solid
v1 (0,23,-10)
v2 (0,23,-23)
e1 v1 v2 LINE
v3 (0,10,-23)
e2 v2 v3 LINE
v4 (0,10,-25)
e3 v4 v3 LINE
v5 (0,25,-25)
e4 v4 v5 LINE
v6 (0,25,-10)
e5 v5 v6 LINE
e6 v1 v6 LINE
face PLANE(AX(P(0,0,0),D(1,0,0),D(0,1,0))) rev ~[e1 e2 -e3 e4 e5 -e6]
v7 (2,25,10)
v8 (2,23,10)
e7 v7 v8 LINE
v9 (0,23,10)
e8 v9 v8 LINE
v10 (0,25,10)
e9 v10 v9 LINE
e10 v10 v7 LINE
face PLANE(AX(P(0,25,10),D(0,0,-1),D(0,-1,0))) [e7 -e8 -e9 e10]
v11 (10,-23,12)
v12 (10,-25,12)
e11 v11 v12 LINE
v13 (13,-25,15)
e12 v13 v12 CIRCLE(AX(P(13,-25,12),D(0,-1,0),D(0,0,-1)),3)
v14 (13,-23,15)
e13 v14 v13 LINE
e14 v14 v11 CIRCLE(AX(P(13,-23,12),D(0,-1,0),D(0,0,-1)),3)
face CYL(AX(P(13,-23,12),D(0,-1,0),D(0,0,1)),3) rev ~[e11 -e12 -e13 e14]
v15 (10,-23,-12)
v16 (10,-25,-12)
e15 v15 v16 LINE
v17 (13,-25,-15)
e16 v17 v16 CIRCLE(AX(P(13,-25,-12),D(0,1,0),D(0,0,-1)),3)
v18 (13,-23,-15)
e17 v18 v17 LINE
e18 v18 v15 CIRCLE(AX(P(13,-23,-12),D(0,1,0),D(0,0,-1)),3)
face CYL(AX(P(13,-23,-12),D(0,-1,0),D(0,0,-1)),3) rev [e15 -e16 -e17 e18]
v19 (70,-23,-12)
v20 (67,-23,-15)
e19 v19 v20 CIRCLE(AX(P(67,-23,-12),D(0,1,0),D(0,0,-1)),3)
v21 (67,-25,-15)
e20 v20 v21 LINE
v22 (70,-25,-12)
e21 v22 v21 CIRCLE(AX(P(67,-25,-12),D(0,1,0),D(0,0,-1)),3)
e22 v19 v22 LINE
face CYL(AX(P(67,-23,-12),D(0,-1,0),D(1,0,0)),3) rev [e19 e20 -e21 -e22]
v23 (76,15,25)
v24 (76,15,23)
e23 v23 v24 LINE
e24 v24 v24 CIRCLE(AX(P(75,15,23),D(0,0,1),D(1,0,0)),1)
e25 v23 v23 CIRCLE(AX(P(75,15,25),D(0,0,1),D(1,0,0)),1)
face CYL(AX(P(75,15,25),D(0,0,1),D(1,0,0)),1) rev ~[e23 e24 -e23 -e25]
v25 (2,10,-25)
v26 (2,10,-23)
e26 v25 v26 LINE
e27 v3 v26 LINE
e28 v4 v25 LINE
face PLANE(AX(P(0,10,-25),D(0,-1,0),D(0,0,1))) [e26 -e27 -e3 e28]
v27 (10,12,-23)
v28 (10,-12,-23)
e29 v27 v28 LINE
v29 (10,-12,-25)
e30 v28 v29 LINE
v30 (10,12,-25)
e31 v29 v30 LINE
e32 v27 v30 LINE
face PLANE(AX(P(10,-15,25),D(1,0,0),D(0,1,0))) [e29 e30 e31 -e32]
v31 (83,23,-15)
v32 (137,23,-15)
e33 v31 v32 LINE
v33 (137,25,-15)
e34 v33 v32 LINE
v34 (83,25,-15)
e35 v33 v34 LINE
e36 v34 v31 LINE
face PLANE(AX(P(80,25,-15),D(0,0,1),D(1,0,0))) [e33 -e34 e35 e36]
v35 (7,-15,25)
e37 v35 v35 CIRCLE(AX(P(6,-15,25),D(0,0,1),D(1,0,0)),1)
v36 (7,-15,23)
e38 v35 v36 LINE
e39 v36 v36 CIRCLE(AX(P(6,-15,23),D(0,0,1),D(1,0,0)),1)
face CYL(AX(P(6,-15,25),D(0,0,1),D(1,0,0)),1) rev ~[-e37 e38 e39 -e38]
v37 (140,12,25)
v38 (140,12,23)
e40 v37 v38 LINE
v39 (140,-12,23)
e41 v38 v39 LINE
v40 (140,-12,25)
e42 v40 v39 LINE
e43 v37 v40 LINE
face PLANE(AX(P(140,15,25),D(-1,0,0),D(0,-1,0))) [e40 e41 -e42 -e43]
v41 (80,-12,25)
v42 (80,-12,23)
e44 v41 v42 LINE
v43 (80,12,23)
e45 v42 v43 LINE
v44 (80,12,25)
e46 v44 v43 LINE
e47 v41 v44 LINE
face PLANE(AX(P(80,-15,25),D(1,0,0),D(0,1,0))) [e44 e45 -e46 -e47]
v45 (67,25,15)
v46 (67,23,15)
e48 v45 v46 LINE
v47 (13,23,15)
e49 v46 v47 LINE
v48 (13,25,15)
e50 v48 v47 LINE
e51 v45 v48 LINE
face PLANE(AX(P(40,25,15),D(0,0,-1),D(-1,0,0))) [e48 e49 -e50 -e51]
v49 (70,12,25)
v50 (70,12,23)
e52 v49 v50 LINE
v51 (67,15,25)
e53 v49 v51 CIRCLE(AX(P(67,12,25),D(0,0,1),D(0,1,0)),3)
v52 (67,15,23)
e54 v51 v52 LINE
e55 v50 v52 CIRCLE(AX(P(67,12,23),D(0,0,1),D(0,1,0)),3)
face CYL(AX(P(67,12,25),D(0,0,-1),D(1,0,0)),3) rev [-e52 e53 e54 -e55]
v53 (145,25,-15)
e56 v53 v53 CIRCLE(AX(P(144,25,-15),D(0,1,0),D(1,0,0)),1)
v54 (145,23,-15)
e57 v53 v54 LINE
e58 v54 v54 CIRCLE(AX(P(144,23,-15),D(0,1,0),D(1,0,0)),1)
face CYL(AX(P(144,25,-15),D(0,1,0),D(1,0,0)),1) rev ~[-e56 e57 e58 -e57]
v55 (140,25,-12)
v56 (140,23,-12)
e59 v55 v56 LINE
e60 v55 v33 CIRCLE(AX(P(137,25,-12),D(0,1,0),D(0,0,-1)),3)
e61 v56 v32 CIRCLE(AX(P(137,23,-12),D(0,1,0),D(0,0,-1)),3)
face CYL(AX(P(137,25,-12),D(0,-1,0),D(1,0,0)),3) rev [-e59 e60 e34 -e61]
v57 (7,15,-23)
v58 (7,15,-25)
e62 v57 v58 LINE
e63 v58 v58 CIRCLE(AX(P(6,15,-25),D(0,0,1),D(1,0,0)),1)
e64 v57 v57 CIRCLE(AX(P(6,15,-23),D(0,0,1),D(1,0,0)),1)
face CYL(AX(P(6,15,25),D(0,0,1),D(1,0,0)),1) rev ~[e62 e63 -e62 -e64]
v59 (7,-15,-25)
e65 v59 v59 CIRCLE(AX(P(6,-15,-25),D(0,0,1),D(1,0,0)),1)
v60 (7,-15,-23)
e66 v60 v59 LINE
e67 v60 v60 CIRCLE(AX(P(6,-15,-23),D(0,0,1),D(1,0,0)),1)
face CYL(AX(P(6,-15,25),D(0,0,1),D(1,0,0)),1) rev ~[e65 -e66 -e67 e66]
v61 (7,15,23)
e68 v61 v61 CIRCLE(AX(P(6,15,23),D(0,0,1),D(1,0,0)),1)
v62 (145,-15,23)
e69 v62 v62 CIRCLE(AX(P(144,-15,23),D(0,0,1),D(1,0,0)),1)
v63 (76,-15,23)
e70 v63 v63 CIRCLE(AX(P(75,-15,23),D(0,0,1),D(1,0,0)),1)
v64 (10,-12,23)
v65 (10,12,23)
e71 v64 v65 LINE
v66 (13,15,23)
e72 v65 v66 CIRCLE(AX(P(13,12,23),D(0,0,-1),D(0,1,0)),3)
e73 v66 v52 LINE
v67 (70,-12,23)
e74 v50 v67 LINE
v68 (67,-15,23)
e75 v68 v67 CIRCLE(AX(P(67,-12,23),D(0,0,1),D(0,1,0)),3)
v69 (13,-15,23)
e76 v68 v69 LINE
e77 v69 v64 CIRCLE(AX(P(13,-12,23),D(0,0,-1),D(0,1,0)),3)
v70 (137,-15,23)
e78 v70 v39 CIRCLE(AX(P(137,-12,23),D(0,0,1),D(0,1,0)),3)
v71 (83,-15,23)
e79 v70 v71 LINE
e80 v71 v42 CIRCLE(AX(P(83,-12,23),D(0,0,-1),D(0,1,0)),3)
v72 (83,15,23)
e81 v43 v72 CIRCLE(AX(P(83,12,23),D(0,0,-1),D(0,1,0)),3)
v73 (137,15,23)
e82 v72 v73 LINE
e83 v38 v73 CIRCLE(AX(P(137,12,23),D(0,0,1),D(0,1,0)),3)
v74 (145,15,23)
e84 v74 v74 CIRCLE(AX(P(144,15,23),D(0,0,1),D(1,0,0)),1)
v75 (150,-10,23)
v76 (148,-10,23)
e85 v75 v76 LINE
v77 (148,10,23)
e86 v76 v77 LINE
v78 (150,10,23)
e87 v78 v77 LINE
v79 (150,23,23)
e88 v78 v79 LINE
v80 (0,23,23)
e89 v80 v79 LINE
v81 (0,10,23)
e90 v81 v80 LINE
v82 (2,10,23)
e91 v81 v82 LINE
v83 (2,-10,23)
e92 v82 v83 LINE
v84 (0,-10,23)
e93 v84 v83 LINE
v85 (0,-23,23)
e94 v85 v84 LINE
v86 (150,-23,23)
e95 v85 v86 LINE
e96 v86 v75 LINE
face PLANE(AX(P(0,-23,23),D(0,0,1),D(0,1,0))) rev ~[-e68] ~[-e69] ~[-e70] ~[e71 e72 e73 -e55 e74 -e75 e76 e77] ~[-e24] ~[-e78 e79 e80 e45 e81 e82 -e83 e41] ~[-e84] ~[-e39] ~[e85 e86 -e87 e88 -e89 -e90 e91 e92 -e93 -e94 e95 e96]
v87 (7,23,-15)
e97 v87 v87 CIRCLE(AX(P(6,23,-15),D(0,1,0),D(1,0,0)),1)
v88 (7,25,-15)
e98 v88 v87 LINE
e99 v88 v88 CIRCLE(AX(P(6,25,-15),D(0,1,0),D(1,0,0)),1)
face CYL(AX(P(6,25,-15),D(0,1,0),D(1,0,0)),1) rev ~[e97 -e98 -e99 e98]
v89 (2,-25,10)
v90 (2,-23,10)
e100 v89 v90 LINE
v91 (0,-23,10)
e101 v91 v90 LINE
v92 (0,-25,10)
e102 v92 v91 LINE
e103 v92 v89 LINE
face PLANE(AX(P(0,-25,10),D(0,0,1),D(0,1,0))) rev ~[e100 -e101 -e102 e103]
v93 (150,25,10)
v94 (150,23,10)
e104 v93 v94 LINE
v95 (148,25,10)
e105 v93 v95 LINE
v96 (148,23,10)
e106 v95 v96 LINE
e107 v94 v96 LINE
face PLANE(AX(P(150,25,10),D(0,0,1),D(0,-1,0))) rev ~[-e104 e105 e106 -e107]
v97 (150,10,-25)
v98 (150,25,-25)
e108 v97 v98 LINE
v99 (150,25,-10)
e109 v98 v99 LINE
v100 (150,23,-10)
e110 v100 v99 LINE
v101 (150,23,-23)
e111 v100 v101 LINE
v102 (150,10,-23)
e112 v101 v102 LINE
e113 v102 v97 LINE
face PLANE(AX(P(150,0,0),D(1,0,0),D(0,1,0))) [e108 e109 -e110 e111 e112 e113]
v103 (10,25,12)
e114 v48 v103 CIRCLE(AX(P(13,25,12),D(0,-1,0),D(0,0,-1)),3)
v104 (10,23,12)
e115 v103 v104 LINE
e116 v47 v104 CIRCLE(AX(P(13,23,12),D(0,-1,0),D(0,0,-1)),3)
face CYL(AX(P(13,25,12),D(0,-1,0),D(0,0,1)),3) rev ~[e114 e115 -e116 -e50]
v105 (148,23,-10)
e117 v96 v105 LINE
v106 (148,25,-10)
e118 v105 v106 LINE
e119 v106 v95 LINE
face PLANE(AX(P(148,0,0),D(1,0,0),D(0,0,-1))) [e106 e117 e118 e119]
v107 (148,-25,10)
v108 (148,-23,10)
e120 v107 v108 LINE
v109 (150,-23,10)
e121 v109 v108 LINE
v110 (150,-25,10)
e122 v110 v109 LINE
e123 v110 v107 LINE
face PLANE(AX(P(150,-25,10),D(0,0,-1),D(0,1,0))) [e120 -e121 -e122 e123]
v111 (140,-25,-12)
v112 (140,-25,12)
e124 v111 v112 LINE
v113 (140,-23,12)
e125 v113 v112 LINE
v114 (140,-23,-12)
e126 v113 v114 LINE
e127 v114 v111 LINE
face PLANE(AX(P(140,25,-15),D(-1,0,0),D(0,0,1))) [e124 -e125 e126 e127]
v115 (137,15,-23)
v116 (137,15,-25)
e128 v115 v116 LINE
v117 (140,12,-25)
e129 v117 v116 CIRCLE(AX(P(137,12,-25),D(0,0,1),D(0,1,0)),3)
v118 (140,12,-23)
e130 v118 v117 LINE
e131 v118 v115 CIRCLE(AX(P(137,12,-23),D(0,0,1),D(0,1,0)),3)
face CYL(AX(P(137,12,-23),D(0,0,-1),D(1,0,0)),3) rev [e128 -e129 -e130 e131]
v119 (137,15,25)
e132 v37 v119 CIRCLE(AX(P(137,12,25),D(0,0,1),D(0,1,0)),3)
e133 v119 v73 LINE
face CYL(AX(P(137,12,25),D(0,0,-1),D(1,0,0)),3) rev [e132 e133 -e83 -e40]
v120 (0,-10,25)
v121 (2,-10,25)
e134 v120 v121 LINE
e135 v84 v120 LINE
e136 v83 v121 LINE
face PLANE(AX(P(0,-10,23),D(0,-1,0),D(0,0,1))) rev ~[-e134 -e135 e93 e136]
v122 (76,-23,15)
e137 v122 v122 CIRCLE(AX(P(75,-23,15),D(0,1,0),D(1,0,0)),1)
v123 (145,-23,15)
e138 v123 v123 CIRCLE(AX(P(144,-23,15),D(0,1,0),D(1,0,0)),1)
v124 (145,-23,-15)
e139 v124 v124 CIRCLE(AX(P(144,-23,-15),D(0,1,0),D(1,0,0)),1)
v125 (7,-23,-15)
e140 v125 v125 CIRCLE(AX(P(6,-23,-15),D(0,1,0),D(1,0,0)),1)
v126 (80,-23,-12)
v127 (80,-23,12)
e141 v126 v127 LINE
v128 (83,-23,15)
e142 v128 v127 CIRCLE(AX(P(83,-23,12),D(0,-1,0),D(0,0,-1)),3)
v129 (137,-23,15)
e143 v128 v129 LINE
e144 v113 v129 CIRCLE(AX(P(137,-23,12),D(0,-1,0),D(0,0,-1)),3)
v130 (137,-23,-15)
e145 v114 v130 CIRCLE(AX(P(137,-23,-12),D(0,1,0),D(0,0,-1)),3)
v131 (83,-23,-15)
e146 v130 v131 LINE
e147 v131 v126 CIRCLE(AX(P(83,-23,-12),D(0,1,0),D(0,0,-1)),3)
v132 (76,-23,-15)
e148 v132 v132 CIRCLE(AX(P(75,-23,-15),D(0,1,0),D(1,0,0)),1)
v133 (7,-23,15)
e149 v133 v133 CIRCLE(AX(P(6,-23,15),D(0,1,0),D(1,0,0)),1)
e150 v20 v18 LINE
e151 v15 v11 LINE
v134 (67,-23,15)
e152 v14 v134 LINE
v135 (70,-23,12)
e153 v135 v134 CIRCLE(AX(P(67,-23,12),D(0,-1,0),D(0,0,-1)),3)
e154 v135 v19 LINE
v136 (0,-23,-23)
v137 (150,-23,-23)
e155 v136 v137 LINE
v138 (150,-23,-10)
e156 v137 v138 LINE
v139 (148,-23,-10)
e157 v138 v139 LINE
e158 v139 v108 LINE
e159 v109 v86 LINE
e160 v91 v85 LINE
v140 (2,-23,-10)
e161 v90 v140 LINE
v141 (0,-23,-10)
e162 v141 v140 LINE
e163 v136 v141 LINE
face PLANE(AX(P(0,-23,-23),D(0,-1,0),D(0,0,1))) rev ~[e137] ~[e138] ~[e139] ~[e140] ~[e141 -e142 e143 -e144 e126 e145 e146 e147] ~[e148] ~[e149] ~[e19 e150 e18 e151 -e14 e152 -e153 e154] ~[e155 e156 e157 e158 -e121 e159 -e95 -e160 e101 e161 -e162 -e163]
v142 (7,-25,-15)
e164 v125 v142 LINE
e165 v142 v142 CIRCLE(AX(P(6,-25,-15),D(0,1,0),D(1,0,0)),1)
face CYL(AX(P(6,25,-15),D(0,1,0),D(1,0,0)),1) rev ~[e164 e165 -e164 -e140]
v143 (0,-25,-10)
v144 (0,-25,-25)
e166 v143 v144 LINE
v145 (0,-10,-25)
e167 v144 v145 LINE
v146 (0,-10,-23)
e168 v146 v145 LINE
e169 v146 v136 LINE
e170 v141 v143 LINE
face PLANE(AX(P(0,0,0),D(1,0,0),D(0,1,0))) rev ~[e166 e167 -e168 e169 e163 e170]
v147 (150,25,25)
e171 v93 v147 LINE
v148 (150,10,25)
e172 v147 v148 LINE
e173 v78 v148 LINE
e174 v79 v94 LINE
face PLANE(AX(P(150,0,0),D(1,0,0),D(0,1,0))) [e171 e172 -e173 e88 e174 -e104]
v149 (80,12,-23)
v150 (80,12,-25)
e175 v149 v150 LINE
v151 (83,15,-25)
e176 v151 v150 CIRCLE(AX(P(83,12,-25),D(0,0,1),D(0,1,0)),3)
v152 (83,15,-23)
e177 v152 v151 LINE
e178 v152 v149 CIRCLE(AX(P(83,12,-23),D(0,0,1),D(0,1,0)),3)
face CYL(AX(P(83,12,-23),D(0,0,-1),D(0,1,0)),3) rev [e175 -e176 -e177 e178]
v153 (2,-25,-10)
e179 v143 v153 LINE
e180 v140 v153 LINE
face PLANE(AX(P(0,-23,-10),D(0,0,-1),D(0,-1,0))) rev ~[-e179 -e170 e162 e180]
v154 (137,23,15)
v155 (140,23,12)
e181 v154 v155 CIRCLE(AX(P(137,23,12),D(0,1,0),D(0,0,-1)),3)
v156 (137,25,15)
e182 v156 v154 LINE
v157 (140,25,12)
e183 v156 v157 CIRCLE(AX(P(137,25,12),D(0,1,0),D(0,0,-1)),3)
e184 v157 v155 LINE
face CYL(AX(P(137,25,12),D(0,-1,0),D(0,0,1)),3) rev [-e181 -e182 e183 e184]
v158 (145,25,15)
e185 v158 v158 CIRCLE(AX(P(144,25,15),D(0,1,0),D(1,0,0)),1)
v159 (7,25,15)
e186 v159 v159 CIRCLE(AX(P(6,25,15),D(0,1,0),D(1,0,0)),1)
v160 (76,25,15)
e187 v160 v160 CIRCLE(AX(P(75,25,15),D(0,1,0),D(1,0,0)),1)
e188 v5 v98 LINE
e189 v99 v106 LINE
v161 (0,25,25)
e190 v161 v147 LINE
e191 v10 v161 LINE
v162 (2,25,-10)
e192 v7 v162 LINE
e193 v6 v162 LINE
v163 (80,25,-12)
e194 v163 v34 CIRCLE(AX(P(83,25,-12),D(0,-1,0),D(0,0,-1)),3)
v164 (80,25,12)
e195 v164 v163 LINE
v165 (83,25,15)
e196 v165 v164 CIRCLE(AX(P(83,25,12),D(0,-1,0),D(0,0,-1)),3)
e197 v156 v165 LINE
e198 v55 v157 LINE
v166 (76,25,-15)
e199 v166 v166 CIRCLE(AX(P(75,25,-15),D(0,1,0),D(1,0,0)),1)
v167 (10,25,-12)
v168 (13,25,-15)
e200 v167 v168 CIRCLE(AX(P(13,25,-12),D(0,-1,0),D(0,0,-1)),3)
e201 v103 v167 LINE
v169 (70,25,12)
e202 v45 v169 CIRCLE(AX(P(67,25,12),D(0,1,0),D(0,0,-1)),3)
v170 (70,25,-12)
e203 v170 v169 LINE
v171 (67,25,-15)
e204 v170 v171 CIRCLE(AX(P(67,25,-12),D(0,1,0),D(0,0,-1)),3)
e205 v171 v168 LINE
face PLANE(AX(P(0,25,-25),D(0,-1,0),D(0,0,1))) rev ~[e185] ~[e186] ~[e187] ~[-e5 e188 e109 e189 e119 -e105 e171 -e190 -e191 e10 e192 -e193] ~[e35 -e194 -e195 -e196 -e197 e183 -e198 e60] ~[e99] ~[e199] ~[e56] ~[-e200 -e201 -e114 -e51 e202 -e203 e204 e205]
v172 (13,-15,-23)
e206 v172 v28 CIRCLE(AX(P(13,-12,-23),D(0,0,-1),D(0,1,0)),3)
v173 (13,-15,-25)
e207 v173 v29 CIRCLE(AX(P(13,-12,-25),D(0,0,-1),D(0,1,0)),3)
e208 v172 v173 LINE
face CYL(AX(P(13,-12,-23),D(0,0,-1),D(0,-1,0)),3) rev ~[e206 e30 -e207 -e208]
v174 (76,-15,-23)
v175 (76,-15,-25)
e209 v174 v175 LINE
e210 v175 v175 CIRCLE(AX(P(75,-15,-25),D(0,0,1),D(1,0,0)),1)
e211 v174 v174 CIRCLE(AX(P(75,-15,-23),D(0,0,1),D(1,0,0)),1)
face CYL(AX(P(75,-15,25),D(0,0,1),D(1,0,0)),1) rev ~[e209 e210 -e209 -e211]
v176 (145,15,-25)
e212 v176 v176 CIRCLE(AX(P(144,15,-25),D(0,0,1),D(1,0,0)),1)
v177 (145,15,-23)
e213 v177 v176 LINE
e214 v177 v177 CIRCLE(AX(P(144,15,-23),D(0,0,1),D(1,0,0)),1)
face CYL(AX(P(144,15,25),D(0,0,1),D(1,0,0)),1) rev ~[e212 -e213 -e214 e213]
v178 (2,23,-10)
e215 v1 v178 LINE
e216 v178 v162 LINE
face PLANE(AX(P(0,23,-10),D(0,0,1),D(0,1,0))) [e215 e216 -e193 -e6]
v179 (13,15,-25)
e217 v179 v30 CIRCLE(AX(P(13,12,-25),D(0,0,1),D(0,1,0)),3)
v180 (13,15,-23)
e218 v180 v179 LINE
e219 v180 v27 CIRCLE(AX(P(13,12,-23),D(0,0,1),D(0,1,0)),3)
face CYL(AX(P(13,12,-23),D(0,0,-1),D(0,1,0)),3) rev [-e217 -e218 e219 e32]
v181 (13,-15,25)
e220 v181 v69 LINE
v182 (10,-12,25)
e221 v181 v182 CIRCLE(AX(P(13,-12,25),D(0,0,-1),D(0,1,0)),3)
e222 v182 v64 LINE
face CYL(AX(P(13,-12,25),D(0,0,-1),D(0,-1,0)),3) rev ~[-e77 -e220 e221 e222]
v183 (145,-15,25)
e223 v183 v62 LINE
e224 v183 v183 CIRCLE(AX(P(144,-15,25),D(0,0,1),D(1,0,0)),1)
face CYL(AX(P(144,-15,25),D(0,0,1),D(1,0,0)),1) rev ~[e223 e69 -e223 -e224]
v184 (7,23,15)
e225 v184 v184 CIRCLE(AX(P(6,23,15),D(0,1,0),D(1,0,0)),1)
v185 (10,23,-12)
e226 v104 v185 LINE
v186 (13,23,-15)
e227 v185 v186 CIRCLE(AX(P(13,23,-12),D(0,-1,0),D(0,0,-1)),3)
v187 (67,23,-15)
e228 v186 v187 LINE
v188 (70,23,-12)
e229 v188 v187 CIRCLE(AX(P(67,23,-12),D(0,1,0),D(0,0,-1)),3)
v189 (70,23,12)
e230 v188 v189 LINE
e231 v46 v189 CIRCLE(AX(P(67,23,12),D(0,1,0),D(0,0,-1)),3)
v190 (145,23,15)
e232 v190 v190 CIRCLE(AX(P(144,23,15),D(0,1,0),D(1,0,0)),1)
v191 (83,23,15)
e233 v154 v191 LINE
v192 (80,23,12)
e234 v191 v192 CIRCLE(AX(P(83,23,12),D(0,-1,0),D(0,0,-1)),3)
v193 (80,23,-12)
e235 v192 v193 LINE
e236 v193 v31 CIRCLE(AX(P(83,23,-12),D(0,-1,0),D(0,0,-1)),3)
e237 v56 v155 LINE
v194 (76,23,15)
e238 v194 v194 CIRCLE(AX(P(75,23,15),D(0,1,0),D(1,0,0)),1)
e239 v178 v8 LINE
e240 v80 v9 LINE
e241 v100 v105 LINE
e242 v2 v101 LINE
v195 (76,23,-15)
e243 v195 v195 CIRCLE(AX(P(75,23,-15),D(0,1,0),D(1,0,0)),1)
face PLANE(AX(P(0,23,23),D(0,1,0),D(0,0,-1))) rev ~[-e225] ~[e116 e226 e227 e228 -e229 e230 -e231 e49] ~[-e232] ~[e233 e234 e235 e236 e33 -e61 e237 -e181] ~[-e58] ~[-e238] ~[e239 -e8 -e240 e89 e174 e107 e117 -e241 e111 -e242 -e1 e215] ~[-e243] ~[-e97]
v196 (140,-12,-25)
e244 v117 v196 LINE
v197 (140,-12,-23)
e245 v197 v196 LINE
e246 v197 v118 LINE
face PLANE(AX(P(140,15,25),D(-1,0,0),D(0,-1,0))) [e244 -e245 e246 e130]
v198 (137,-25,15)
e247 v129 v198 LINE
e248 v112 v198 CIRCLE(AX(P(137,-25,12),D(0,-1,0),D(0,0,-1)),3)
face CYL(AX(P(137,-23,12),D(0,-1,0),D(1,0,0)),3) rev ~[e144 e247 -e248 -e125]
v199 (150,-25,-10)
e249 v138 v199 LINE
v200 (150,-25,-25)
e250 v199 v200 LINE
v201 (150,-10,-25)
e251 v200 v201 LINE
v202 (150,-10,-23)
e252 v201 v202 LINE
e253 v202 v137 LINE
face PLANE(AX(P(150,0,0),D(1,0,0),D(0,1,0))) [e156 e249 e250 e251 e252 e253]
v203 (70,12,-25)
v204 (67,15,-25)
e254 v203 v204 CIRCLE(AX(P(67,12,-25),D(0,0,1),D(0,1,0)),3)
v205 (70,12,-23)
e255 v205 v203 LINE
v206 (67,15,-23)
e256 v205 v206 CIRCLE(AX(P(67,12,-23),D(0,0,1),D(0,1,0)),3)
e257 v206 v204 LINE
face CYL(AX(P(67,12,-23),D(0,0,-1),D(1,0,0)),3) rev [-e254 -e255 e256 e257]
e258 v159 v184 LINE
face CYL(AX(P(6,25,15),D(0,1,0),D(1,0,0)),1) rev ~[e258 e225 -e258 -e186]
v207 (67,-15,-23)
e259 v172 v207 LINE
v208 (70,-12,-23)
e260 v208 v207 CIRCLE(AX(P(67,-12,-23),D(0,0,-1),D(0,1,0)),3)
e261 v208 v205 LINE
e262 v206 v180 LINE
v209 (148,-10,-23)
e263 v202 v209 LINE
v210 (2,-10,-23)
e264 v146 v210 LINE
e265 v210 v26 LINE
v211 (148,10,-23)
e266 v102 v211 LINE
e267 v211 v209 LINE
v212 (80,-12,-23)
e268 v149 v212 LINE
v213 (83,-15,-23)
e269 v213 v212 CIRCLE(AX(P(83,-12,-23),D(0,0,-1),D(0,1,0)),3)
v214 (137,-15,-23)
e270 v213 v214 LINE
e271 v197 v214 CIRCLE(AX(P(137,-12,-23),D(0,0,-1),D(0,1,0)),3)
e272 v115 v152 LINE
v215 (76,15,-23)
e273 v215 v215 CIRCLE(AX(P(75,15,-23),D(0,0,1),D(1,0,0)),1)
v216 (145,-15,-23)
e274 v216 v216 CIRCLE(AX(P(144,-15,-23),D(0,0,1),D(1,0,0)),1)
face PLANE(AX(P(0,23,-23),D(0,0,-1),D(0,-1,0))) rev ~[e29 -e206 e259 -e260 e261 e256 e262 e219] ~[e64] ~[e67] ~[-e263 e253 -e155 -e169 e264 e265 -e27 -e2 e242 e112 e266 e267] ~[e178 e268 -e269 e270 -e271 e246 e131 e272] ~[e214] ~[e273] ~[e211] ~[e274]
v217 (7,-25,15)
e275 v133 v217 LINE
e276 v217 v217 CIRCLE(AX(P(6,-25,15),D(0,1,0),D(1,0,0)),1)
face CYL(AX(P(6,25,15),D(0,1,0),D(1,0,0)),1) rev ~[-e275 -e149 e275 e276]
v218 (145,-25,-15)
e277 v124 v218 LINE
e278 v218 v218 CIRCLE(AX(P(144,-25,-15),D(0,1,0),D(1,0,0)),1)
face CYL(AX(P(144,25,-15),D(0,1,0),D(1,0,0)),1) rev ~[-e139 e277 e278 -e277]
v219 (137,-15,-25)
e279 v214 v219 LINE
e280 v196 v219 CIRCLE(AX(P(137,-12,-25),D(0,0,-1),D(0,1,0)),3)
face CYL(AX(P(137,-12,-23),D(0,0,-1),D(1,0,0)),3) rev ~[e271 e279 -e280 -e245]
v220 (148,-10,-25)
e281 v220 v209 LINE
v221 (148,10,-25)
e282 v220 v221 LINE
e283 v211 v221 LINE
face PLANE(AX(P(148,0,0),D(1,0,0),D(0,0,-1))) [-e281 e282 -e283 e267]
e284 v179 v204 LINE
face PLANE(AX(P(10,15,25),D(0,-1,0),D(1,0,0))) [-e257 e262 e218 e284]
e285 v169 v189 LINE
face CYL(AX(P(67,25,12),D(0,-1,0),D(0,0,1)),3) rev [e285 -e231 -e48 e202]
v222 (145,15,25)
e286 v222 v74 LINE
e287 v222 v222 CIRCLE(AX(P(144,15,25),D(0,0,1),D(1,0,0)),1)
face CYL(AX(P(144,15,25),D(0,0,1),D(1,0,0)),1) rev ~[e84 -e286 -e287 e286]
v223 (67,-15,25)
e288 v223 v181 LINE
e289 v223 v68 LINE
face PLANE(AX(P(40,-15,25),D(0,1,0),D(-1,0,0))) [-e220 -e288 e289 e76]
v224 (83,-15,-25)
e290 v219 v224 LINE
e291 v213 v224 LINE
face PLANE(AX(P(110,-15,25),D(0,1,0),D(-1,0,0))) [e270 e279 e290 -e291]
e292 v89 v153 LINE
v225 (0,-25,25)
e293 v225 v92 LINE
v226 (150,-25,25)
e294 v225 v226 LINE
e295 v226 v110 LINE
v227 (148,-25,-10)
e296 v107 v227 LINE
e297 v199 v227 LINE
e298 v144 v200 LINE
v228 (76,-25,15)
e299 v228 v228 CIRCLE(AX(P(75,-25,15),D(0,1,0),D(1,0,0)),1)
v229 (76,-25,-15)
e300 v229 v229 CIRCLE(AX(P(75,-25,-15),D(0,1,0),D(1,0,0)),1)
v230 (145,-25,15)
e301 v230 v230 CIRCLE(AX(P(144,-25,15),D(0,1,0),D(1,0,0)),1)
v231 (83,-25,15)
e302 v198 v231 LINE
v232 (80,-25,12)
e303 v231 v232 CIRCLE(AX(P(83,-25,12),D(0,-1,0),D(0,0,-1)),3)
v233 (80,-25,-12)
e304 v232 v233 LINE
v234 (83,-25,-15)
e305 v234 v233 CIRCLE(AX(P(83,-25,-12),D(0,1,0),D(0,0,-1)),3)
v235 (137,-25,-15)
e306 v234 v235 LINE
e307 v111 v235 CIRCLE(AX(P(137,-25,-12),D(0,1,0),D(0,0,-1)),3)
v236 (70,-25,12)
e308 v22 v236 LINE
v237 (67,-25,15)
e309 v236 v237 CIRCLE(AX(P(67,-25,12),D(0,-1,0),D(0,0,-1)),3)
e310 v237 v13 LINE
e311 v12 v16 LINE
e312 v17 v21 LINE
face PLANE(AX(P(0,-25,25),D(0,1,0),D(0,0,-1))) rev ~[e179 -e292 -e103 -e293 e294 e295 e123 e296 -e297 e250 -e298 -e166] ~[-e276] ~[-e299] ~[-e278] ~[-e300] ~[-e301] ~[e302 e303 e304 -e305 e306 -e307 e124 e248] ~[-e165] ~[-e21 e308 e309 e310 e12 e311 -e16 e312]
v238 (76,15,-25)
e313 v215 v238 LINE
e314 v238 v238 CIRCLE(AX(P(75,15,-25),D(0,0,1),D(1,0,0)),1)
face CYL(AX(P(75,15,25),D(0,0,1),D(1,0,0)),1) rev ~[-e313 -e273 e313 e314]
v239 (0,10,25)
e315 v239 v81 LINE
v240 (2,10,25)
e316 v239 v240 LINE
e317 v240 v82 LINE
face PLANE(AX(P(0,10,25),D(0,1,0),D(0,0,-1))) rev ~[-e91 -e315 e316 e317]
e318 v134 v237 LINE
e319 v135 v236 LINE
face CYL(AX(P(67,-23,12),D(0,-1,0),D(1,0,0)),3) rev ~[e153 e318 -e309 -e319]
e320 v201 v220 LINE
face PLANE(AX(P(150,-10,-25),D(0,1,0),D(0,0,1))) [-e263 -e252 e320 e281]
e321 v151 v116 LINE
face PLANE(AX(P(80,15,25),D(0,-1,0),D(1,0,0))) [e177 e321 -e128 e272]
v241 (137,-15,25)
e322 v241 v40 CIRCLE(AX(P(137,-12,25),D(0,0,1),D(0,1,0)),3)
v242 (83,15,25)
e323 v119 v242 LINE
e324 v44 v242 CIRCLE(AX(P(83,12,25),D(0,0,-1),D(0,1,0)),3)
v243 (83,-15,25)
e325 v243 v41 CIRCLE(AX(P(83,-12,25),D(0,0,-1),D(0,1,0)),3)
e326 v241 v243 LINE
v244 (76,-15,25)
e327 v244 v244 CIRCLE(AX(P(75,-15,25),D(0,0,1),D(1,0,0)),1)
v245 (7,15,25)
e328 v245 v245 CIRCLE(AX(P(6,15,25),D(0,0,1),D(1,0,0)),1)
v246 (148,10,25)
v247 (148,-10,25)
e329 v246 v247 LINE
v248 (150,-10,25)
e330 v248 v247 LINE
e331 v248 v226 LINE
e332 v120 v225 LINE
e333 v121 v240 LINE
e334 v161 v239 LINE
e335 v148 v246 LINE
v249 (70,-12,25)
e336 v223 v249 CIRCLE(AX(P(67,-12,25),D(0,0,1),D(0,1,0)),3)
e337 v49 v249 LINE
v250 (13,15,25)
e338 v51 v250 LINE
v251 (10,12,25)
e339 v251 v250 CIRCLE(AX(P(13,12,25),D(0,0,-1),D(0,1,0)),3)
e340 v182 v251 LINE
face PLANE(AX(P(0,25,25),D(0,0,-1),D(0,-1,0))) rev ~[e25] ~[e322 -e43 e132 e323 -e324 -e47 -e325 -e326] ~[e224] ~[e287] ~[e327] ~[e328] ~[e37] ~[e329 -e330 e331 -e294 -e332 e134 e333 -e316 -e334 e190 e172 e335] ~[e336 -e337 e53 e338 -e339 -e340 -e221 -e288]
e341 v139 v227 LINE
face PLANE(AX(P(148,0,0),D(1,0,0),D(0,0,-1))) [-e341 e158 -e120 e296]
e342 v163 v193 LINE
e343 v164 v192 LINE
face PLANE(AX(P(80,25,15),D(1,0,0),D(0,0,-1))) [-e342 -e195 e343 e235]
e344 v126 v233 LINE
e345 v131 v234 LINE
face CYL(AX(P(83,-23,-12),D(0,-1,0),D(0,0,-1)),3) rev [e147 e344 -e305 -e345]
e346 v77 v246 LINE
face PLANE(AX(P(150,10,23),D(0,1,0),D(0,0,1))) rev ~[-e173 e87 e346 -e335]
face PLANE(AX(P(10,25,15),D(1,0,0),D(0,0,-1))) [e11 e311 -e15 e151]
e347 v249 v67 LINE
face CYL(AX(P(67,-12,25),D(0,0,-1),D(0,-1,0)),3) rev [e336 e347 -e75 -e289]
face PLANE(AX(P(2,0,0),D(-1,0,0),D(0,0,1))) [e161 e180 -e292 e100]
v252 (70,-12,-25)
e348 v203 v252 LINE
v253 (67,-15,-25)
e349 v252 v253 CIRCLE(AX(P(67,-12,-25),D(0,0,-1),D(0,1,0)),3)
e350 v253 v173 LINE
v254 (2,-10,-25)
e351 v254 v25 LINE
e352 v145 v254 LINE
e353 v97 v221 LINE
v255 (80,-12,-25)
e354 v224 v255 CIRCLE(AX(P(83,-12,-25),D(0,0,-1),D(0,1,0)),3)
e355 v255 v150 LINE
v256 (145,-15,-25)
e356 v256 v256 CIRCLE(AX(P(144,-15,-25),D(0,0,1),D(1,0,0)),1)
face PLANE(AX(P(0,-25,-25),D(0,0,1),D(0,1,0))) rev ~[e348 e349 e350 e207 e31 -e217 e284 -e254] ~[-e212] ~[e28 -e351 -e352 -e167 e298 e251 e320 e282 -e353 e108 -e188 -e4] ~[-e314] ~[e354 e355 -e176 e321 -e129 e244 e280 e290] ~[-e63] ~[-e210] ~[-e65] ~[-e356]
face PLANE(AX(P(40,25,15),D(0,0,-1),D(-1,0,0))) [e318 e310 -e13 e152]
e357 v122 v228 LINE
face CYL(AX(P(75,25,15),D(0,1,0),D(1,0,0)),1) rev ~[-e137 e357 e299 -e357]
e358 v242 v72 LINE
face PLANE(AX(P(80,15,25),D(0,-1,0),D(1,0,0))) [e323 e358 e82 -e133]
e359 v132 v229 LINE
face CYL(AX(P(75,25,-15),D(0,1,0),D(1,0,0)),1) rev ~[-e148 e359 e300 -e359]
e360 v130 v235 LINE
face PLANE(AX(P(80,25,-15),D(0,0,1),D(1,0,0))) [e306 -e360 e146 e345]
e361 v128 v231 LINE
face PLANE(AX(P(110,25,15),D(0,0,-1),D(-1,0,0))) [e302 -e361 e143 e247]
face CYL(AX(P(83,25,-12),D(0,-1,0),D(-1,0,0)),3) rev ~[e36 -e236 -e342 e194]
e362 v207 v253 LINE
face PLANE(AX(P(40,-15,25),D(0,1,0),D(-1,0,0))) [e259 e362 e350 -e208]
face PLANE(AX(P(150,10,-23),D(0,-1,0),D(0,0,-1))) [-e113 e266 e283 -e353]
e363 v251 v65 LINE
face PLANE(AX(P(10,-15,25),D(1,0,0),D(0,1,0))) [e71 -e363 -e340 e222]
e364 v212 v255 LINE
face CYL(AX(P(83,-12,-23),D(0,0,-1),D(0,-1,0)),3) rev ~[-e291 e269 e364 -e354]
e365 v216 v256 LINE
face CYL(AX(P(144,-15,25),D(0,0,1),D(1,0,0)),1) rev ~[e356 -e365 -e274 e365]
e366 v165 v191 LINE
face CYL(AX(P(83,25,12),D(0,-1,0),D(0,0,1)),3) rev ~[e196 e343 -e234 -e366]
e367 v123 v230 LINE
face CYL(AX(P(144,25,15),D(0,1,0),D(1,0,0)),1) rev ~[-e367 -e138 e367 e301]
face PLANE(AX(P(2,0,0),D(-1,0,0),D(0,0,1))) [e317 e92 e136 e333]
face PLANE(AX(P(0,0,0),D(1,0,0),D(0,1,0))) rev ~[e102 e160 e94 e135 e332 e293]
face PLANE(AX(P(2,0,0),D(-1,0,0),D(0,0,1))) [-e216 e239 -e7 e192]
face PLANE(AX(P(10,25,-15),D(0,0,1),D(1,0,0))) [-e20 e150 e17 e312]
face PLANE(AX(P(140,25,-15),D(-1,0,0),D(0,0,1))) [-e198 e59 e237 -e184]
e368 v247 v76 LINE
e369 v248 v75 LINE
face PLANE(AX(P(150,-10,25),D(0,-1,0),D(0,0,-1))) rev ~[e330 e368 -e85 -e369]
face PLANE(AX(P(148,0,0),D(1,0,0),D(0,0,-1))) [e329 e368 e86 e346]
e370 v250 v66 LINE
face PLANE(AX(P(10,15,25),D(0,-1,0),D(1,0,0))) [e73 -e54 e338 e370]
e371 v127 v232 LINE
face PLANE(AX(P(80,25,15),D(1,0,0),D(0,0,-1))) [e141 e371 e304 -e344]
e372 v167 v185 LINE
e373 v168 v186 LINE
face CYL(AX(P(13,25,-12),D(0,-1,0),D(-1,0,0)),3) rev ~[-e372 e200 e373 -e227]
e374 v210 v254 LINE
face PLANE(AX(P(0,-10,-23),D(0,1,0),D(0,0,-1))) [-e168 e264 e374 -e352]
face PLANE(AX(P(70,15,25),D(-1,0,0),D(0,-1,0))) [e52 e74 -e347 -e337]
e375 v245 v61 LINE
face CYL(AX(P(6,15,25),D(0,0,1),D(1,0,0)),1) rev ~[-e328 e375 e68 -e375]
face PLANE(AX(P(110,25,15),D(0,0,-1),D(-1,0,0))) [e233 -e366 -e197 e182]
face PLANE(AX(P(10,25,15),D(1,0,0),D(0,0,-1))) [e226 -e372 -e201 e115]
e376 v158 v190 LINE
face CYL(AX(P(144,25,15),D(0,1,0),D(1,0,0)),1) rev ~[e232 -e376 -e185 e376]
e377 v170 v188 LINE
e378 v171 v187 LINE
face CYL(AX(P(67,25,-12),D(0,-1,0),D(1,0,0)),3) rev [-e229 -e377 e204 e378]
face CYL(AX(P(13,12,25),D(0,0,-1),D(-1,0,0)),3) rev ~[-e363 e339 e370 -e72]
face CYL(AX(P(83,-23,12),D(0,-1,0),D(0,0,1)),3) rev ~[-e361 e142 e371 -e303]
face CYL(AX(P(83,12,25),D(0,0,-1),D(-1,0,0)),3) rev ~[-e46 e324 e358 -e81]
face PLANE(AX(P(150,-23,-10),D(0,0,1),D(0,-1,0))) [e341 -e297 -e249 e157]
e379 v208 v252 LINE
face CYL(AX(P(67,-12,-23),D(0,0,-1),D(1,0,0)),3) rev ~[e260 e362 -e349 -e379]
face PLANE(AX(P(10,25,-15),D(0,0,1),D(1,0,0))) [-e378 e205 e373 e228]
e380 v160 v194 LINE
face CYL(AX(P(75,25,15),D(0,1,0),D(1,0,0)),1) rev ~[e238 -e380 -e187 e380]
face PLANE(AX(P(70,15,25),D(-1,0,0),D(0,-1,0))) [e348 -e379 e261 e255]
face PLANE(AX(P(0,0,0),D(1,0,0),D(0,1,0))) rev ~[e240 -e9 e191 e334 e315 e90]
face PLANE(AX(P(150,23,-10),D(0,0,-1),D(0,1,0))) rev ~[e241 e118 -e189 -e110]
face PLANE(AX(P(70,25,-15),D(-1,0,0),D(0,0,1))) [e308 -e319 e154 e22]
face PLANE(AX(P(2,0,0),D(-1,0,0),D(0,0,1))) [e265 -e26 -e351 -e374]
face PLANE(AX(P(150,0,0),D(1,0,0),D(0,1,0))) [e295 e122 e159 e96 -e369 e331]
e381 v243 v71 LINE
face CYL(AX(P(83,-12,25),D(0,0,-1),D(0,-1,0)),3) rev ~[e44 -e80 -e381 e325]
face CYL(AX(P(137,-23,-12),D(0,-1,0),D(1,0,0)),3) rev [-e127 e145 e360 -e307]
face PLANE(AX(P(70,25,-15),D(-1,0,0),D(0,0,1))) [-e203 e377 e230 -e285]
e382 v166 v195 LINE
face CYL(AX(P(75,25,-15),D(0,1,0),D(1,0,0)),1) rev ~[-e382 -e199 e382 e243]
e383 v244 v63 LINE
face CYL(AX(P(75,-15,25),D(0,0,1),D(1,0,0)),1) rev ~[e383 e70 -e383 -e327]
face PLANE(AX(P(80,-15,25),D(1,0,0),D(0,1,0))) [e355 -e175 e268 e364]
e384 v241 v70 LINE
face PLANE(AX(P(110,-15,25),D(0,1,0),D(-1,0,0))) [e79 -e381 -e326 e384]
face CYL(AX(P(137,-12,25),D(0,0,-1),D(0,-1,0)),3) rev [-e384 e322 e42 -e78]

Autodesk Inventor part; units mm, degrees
ref_plane "YZ Plane" through (0, 0, 0) normal (1, 0, 0) x (0, 1, 0)
ref_plane "XZ Plane" through (0, 0, 0) normal (0, 1, 0) x (-1, 0, 0)
ref_plane "XY Plane" through (0, 0, 0) normal (0, 0, 1) x (1, 0, 0)
sketch "Sketch1" plane through (0, 0, 0) normal (1, 0, 0) x (0, 1, 0)
  line L0 (-25, -25) -> (25, -25)
  line L1 (25, -25) -> (25, 25)
  line L2 (25, 25) -> (-25, 25)
  line L3 (-25, 25) -> (-25, -25)
  line L4 (-25, -25) -> (25, 25) construction
  line L5 (25, -25) -> (-25, 25) construction
  line L6 (-23, 23) -> (23, 23)
  line L7 (23, 23) -> (23, -23)
  line L8 (23, -23) -> (-23, -23)
  line L9 (-23, -23) -> (-23, 23)
  line L10 (-23, 23) -> (23, -23) construction
  line L11 (23, 23) -> (-23, -23) construction
  point P0 (0, 0)
  dimension "d0" = 50
  dimension "d1" = 50
  dimension "d2" = 46
  dimension "d3" = 46
extrude "Extrusion1" add sketch "Sketch1" along normal blind 150
sketch "Sketch2" plane through (0, 0, 0) normal (-1, 0, 0) x (0, 0, 1)
  line L0 (-23, 23) -> (-23, -23) projected
  line L1 (-23, 0) -> (-25, 0)
  line L2 (-25, -25) -> (-25, 25) projected
  line L3 (23, 23) -> (-23, 23) projected
  line L4 (0, 23) -> (0, 25)
  line L5 (-25, 25) -> (25, 25) projected
  line L6 (23, -23) -> (23, 23) projected
  line L7 (23, 0) -> (25, 0)
  line L8 (25, 25) -> (25, -25) projected
  line L9 (-23, -23) -> (23, -23) projected
  line L10 (0, -23) -> (0, -25)
  line L11 (25, -25) -> (-25, -25) projected
  line L12 (-23, -10) -> (-25, -10)
  line L13 (-25, -10) -> (-25, 10)
  line L14 (-25, 10) -> (-23, 10)
  line L15 (-23, 10) -> (-23, -10)
  line L16 (-23, -10) -> (-25, 10) construction
  line L17 (-25, -10) -> (-23, 10) construction
  line L18 (10, 23) -> (-10, 23)
  line L19 (-10, 23) -> (-10, 25)
  line L20 (-10, 25) -> (10, 25)
  line L21 (10, 25) -> (10, 23)
  line L22 (10, 23) -> (-10, 25) construction
  line L23 (-10, 23) -> (10, 25) construction
  line L24 (23, -10) -> (25, -10)
  line L25 (25, -10) -> (25, 10)
  line L26 (25, 10) -> (23, 10)
  line L27 (23, 10) -> (23, -10)
  line L28 (23, -10) -> (25, 10) construction
  line L29 (25, -10) -> (23, 10) construction
  line L30 (10, -23) -> (-10, -23)
  line L31 (-10, -23) -> (-10, -25)
  line L32 (-10, -25) -> (10, -25)
  line L33 (10, -25) -> (10, -23)
  line L34 (10, -23) -> (-10, -25) construction
  line L35 (-10, -23) -> (10, -25) construction
  point P0 (0, 0)
  point P1 (-24, 0)
  point P2 (0, 24)
  point P3 (24, 0)
  point P4 (0, -24)
  point P5 (10, 25)
  point P6 (-10, 23)
  dimension "d6" = 20
  dimension "d7" = 20
  dimension "d8" = 20
  dimension "d9" = 20
extrude "Extrusion2" cut sketch "Sketch2" against normal blind 2 contours L0 L1 L2 L14 | L19 L5 L4 L3 | L0 L12 L2 L1 | L4 L5 L21 L3 | L9 L10 L11 L31 | L26 L8 L7 L6 | L9 L33 L11 L10 | L7 L8 L24 L6
sketch "Sketch3" plane through (150, 0, 0) normal (1, 0, 0) x (0, 0, -1)
  line L0 (25, -10) -> (25, 10) projected
  line L1 (25, 0) -> (23, 0)
  line L2 (23, 23) -> (23, -23) projected
  line L3 (-10, 23) -> (10, 23) projected
  line L4 (0, 23) -> (0, 25)
  line L5 (10, 25) -> (-10, 25) projected
  line L6 (-25, -25) -> (25, -25) projected
  line L7 (0, -25) -> (0, -23)
  line L8 (23, -23) -> (-23, -23) projected
  line L9 (-23, -23) -> (-23, 23) projected
  line L10 (-23, 0) -> (-25, 0)
  line L11 (-25, 10) -> (-25, -10) projected
  line L12 (-25, -10) -> (-23, -10)
  line L13 (-23, -10) -> (-23, 10)
  line L14 (-23, 10) -> (-25, 10)
  line L15 (-25, 10) -> (-25, -10)
  line L16 (-25, -10) -> (-23, 10) construction
  line L17 (-23, -10) -> (-25, 10) construction
  line L18 (-10, -23) -> (10, -23)
  line L19 (10, -23) -> (10, -25)
  line L20 (10, -25) -> (-10, -25)
  line L21 (-10, -25) -> (-10, -23)
  line L22 (-10, -23) -> (10, -25) construction
  line L23 (10, -23) -> (-10, -25) construction
  line L24 (23, 10) -> (25, 10)
  line L25 (25, 10) -> (25, -10)
  line L26 (25, -10) -> (23, -10)
  line L27 (23, -10) -> (23, 10)
  line L28 (23, 10) -> (25, -10) construction
  line L29 (25, 10) -> (23, -10) construction
  line L30 (-10, 23) -> (10, 23)
  line L31 (10, 23) -> (10, 25)
  line L32 (10, 25) -> (-10, 25)
  line L33 (-10, 25) -> (-10, 23)
  line L34 (-10, 23) -> (10, 25) construction
  line L35 (10, 23) -> (-10, 25) construction
  point P0 (0, 0)
  point P1 (-24, 0)
  point P2 (0, -24)
  point P3 (24, 0)
  point P4 (0, 24)
  point P5 (10, -23)
  dimension "d12" = 20
  dimension "d13" = 20
  dimension "d14" = 20
  dimension "d15" = 20
extrude "Extrusion3" cut sketch "Sketch3" against normal blind 2
sketch "Sketch4" plane through (0, 25, -25) normal (0, 1, 0) x (1, 0, 0)
  line L0 (0, -50) -> (150, -50) projected
  line L1 (0, 0) -> (150, 0) projected
  line L2 (40, 0) -> (110, 0)
  line L3 (110, 0) -> (110, -50)
  line L4 (110, -50) -> (40, -50)
  line L5 (40, -50) -> (40, 0)
  line L6 (40, 0) -> (110, -50) construction
  line L7 (110, 0) -> (40, -50) construction
  line L8 (10, -10) -> (70, -10)
  line L9 (70, -10) -> (70, -40)
  line L10 (70, -40) -> (10, -40)
  line L11 (10, -40) -> (10, -10)
  line L12 (10, -10) -> (70, -40) construction
  line L13 (70, -10) -> (10, -40) construction
  line L14 (80, -10) -> (140, -10)
  line L15 (140, -10) -> (140, -40)
  line L16 (140, -40) -> (80, -40)
  line L17 (80, -40) -> (80, -10)
  line L18 (80, -10) -> (140, -40) construction
  line L19 (140, -10) -> (80, -40) construction
  line L20 (0, 0) -> (0, -15) projected
  line L21 (150, -35) -> (150, -50) projected
  point P0 (0, -25)
  point P1 (75, -25)
  point P2 (40, -25)
  point P3 (110, -25)
  dimension "d19" = 60
  dimension "d20" = 30
  dimension "d21" = 60
  dimension "d22" = 30
  dimension "d77" = 40
  dimension "d78" = 40
extrude "Extrusion4" cut sketch "Sketch4" against normal through all contours L10 L11 L8 L5 | L5 L8 L9 L10 | L16 L17 L14 L3 | L3 L14 L15 L16
sketch "Sketch7" plane through (0, 25, 25) normal (0, 0, 1) x (1, 0, 0)
  line L0 (0, -50) -> (150, -50) projected
  line L1 (0, 0) -> (150, 0) projected
  line L2 (40, 0) -> (110, 0)
  line L3 (110, 0) -> (110, -50)
  line L4 (110, -50) -> (40, -50)
  line L5 (40, -50) -> (40, 0)
  line L6 (40, 0) -> (110, -50) construction
  line L7 (110, 0) -> (40, -50) construction
  line L8 (80, -10) -> (140, -10)
  line L9 (140, -10) -> (140, -40)
  line L10 (140, -40) -> (80, -40)
  line L11 (80, -40) -> (80, -10)
  line L12 (80, -10) -> (140, -40) construction
  line L13 (140, -10) -> (80, -40) construction
  line L14 (10, -10) -> (70, -10)
  line L15 (70, -10) -> (70, -40)
  line L16 (70, -40) -> (10, -40)
  line L17 (10, -40) -> (10, -10)
  line L18 (10, -10) -> (70, -40) construction
  line L19 (70, -10) -> (10, -40) construction
  line L20 (0, 0) -> (0, -15) projected
  line L21 (150, 0) -> (150, -15) projected
  point P0 (0, -25)
  point P1 (75, -25)
  point P2 (110, -25)
  point P3 (40, -25)
  dimension "d26" = 50
  dimension "d27" = 60
  dimension "d28" = 30
  dimension "d29" = 60
  dimension "d30" = 30
  dimension "d117" = 40
  dimension "d118" = 40
extrude "Extrusion5" cut sketch "Sketch7" against normal through all contours L16 L17 L14 L5 | L5 L14 L15 L16 | L10 L11 L8 L3 | L3 L8 L9 L10
sketch "Sketch19" plane through (0, 25, -25) normal (0, 1, 0) x (1, 0, 0)
  line L0 (0, -15) -> (2, -15) projected
  line L1 (1.5, 0) -> (3.5, 0) projected
  line L2 (2, -15) -> (2, -35) projected
  line L3 (2, -50) -> (2, -48) projected
  line L4 (150, -35) -> (148, -35) projected
  line L5 (0, -50) -> (150, -50) projected
  line L6 (148, -15) -> (150, -15) projected
  line L7 (0, 0) -> (150, 0) projected
  line L8 (1.5, -50) -> (1.5, -48) projected
  line L9 (2.5, -35) -> (1.5, -35)
  line L10 (1.5, -50) -> (2.5, -50)
  line L11 (2.5, 0) -> (1.5, 0)
  line L12 (1.5, -15) -> (2.5, -15)
  line L13 (148.5, 0) -> (147.5, 0)
  line L14 (147.5, -15) -> (148.5, -15)
  line L15 (148.5, -35) -> (147.5, -35)
  line L16 (147.5, -50) -> (148.5, -50)
  circle A0 centre (6, -10) radius 1
  line L17 (0, 0) -> (0, -15) projected
  circle A1 centre (6, -40) radius 1
  line L18 (0, -35) -> (0, -50) projected
  circle A2 centre (144, -40) radius 1
  line L19 (150, -35) -> (150, -50) projected
  circle A3 centre (144, -10) radius 1
  line L20 (150, 0) -> (150, -15) projected
  circle A4 centre (75, -40) radius 1
  line L21 (70, -10) -> (70, -40) projected
  circle A5 centre (75, -10) radius 1
  point P0 (0, -25)
  dimension "d79" = 2
  dimension "d80" = 6
  dimension "d81" = 10
  dimension "d82" = 2
  dimension "d83" = 6
  dimension "d84" = 10
  dimension "d85" = 2
  dimension "d86" = 6
  dimension "d87" = 10
  dimension "d88" = 2
  dimension "d89" = 6
  dimension "d90" = 10
  dimension "d105" = 2
  dimension "d106" = 10
  dimension "d107" = 5
  dimension "d108" = 2
  dimension "d109" = 10
  dimension "d110" = 5
extrude "Extrusion14" cut sketch "Sketch19" against normal through all
sketch "Sketch21" plane through (0, 25, 25) normal (0, 0, 1) x (1, 0, 0)
  circle A0 centre (6, -40) radius 1
  line L0 (0, -48) -> (0, -35) projected
  line L1 (0, -50) -> (150, -50) projected
  circle A1 centre (6, -10) radius 1
  line L2 (0, 0) -> (0, -15) projected
  line L3 (0, 0) -> (150, 0) projected
  circle A2 centre (144, -10) radius 1
  line L4 (150, 0) -> (150, -15) projected
  circle A3 centre (144, -40) radius 1
  line L5 (150, -35) -> (150, -50) projected
  circle A4 centre (75, -10) radius 1
  line L6 (70, -10) -> (70, -40) projected
  circle A5 centre (75, -40) radius 1
  point P0 (0, -25)
  dimension "d91" = 2
  dimension "d92" = 6
  dimension "d93" = 10
  dimension "d94" = 2
  dimension "d95" = 6
  dimension "d96" = 10
  dimension "d97" = 2
  dimension "d98" = 10
  dimension "d99" = 6
  dimension "d100" = 2
  dimension "d101" = 6
  dimension "d102" = 10
  dimension "d111" = 2
  dimension "d112" = 5
  dimension "d113" = 10
  dimension "d114" = 2
  dimension "d115" = 10
  dimension "d116" = 5
extrude "Extrusion15" cut sketch "Sketch21" against normal through all
fillet "Fillet1" radius 3 32 edges at (10, -24, 15) (10, -24, -15) (70, -24, -15) (70, -24, 15) (80, -24, 15) (80, -24, -15) (140, -24, -15) (140, -24, 15) (10, -15, 24) (10, 15, 24) (10, 24, -15) (70, 15, 24) (70, 24, -15) (70, 15, -24) (70, -15, 24) (70, -15, -24) (140, -15, -24) (140, -15, 24) (140, 15, 24) (140, 15, -24) (140, 24, -15) (10, -15, -24) (70, 24, 15) (10, 24, 15) (80, 24, 15) (80, 24, -15) (80, -15, -24) (140, 24, 15) (80, -15, 24) (80, 15, 24) (80, 15, -24) (10, 15, -24)
properties part number "MainPart1" material "Aluminum 6061, Welded"
